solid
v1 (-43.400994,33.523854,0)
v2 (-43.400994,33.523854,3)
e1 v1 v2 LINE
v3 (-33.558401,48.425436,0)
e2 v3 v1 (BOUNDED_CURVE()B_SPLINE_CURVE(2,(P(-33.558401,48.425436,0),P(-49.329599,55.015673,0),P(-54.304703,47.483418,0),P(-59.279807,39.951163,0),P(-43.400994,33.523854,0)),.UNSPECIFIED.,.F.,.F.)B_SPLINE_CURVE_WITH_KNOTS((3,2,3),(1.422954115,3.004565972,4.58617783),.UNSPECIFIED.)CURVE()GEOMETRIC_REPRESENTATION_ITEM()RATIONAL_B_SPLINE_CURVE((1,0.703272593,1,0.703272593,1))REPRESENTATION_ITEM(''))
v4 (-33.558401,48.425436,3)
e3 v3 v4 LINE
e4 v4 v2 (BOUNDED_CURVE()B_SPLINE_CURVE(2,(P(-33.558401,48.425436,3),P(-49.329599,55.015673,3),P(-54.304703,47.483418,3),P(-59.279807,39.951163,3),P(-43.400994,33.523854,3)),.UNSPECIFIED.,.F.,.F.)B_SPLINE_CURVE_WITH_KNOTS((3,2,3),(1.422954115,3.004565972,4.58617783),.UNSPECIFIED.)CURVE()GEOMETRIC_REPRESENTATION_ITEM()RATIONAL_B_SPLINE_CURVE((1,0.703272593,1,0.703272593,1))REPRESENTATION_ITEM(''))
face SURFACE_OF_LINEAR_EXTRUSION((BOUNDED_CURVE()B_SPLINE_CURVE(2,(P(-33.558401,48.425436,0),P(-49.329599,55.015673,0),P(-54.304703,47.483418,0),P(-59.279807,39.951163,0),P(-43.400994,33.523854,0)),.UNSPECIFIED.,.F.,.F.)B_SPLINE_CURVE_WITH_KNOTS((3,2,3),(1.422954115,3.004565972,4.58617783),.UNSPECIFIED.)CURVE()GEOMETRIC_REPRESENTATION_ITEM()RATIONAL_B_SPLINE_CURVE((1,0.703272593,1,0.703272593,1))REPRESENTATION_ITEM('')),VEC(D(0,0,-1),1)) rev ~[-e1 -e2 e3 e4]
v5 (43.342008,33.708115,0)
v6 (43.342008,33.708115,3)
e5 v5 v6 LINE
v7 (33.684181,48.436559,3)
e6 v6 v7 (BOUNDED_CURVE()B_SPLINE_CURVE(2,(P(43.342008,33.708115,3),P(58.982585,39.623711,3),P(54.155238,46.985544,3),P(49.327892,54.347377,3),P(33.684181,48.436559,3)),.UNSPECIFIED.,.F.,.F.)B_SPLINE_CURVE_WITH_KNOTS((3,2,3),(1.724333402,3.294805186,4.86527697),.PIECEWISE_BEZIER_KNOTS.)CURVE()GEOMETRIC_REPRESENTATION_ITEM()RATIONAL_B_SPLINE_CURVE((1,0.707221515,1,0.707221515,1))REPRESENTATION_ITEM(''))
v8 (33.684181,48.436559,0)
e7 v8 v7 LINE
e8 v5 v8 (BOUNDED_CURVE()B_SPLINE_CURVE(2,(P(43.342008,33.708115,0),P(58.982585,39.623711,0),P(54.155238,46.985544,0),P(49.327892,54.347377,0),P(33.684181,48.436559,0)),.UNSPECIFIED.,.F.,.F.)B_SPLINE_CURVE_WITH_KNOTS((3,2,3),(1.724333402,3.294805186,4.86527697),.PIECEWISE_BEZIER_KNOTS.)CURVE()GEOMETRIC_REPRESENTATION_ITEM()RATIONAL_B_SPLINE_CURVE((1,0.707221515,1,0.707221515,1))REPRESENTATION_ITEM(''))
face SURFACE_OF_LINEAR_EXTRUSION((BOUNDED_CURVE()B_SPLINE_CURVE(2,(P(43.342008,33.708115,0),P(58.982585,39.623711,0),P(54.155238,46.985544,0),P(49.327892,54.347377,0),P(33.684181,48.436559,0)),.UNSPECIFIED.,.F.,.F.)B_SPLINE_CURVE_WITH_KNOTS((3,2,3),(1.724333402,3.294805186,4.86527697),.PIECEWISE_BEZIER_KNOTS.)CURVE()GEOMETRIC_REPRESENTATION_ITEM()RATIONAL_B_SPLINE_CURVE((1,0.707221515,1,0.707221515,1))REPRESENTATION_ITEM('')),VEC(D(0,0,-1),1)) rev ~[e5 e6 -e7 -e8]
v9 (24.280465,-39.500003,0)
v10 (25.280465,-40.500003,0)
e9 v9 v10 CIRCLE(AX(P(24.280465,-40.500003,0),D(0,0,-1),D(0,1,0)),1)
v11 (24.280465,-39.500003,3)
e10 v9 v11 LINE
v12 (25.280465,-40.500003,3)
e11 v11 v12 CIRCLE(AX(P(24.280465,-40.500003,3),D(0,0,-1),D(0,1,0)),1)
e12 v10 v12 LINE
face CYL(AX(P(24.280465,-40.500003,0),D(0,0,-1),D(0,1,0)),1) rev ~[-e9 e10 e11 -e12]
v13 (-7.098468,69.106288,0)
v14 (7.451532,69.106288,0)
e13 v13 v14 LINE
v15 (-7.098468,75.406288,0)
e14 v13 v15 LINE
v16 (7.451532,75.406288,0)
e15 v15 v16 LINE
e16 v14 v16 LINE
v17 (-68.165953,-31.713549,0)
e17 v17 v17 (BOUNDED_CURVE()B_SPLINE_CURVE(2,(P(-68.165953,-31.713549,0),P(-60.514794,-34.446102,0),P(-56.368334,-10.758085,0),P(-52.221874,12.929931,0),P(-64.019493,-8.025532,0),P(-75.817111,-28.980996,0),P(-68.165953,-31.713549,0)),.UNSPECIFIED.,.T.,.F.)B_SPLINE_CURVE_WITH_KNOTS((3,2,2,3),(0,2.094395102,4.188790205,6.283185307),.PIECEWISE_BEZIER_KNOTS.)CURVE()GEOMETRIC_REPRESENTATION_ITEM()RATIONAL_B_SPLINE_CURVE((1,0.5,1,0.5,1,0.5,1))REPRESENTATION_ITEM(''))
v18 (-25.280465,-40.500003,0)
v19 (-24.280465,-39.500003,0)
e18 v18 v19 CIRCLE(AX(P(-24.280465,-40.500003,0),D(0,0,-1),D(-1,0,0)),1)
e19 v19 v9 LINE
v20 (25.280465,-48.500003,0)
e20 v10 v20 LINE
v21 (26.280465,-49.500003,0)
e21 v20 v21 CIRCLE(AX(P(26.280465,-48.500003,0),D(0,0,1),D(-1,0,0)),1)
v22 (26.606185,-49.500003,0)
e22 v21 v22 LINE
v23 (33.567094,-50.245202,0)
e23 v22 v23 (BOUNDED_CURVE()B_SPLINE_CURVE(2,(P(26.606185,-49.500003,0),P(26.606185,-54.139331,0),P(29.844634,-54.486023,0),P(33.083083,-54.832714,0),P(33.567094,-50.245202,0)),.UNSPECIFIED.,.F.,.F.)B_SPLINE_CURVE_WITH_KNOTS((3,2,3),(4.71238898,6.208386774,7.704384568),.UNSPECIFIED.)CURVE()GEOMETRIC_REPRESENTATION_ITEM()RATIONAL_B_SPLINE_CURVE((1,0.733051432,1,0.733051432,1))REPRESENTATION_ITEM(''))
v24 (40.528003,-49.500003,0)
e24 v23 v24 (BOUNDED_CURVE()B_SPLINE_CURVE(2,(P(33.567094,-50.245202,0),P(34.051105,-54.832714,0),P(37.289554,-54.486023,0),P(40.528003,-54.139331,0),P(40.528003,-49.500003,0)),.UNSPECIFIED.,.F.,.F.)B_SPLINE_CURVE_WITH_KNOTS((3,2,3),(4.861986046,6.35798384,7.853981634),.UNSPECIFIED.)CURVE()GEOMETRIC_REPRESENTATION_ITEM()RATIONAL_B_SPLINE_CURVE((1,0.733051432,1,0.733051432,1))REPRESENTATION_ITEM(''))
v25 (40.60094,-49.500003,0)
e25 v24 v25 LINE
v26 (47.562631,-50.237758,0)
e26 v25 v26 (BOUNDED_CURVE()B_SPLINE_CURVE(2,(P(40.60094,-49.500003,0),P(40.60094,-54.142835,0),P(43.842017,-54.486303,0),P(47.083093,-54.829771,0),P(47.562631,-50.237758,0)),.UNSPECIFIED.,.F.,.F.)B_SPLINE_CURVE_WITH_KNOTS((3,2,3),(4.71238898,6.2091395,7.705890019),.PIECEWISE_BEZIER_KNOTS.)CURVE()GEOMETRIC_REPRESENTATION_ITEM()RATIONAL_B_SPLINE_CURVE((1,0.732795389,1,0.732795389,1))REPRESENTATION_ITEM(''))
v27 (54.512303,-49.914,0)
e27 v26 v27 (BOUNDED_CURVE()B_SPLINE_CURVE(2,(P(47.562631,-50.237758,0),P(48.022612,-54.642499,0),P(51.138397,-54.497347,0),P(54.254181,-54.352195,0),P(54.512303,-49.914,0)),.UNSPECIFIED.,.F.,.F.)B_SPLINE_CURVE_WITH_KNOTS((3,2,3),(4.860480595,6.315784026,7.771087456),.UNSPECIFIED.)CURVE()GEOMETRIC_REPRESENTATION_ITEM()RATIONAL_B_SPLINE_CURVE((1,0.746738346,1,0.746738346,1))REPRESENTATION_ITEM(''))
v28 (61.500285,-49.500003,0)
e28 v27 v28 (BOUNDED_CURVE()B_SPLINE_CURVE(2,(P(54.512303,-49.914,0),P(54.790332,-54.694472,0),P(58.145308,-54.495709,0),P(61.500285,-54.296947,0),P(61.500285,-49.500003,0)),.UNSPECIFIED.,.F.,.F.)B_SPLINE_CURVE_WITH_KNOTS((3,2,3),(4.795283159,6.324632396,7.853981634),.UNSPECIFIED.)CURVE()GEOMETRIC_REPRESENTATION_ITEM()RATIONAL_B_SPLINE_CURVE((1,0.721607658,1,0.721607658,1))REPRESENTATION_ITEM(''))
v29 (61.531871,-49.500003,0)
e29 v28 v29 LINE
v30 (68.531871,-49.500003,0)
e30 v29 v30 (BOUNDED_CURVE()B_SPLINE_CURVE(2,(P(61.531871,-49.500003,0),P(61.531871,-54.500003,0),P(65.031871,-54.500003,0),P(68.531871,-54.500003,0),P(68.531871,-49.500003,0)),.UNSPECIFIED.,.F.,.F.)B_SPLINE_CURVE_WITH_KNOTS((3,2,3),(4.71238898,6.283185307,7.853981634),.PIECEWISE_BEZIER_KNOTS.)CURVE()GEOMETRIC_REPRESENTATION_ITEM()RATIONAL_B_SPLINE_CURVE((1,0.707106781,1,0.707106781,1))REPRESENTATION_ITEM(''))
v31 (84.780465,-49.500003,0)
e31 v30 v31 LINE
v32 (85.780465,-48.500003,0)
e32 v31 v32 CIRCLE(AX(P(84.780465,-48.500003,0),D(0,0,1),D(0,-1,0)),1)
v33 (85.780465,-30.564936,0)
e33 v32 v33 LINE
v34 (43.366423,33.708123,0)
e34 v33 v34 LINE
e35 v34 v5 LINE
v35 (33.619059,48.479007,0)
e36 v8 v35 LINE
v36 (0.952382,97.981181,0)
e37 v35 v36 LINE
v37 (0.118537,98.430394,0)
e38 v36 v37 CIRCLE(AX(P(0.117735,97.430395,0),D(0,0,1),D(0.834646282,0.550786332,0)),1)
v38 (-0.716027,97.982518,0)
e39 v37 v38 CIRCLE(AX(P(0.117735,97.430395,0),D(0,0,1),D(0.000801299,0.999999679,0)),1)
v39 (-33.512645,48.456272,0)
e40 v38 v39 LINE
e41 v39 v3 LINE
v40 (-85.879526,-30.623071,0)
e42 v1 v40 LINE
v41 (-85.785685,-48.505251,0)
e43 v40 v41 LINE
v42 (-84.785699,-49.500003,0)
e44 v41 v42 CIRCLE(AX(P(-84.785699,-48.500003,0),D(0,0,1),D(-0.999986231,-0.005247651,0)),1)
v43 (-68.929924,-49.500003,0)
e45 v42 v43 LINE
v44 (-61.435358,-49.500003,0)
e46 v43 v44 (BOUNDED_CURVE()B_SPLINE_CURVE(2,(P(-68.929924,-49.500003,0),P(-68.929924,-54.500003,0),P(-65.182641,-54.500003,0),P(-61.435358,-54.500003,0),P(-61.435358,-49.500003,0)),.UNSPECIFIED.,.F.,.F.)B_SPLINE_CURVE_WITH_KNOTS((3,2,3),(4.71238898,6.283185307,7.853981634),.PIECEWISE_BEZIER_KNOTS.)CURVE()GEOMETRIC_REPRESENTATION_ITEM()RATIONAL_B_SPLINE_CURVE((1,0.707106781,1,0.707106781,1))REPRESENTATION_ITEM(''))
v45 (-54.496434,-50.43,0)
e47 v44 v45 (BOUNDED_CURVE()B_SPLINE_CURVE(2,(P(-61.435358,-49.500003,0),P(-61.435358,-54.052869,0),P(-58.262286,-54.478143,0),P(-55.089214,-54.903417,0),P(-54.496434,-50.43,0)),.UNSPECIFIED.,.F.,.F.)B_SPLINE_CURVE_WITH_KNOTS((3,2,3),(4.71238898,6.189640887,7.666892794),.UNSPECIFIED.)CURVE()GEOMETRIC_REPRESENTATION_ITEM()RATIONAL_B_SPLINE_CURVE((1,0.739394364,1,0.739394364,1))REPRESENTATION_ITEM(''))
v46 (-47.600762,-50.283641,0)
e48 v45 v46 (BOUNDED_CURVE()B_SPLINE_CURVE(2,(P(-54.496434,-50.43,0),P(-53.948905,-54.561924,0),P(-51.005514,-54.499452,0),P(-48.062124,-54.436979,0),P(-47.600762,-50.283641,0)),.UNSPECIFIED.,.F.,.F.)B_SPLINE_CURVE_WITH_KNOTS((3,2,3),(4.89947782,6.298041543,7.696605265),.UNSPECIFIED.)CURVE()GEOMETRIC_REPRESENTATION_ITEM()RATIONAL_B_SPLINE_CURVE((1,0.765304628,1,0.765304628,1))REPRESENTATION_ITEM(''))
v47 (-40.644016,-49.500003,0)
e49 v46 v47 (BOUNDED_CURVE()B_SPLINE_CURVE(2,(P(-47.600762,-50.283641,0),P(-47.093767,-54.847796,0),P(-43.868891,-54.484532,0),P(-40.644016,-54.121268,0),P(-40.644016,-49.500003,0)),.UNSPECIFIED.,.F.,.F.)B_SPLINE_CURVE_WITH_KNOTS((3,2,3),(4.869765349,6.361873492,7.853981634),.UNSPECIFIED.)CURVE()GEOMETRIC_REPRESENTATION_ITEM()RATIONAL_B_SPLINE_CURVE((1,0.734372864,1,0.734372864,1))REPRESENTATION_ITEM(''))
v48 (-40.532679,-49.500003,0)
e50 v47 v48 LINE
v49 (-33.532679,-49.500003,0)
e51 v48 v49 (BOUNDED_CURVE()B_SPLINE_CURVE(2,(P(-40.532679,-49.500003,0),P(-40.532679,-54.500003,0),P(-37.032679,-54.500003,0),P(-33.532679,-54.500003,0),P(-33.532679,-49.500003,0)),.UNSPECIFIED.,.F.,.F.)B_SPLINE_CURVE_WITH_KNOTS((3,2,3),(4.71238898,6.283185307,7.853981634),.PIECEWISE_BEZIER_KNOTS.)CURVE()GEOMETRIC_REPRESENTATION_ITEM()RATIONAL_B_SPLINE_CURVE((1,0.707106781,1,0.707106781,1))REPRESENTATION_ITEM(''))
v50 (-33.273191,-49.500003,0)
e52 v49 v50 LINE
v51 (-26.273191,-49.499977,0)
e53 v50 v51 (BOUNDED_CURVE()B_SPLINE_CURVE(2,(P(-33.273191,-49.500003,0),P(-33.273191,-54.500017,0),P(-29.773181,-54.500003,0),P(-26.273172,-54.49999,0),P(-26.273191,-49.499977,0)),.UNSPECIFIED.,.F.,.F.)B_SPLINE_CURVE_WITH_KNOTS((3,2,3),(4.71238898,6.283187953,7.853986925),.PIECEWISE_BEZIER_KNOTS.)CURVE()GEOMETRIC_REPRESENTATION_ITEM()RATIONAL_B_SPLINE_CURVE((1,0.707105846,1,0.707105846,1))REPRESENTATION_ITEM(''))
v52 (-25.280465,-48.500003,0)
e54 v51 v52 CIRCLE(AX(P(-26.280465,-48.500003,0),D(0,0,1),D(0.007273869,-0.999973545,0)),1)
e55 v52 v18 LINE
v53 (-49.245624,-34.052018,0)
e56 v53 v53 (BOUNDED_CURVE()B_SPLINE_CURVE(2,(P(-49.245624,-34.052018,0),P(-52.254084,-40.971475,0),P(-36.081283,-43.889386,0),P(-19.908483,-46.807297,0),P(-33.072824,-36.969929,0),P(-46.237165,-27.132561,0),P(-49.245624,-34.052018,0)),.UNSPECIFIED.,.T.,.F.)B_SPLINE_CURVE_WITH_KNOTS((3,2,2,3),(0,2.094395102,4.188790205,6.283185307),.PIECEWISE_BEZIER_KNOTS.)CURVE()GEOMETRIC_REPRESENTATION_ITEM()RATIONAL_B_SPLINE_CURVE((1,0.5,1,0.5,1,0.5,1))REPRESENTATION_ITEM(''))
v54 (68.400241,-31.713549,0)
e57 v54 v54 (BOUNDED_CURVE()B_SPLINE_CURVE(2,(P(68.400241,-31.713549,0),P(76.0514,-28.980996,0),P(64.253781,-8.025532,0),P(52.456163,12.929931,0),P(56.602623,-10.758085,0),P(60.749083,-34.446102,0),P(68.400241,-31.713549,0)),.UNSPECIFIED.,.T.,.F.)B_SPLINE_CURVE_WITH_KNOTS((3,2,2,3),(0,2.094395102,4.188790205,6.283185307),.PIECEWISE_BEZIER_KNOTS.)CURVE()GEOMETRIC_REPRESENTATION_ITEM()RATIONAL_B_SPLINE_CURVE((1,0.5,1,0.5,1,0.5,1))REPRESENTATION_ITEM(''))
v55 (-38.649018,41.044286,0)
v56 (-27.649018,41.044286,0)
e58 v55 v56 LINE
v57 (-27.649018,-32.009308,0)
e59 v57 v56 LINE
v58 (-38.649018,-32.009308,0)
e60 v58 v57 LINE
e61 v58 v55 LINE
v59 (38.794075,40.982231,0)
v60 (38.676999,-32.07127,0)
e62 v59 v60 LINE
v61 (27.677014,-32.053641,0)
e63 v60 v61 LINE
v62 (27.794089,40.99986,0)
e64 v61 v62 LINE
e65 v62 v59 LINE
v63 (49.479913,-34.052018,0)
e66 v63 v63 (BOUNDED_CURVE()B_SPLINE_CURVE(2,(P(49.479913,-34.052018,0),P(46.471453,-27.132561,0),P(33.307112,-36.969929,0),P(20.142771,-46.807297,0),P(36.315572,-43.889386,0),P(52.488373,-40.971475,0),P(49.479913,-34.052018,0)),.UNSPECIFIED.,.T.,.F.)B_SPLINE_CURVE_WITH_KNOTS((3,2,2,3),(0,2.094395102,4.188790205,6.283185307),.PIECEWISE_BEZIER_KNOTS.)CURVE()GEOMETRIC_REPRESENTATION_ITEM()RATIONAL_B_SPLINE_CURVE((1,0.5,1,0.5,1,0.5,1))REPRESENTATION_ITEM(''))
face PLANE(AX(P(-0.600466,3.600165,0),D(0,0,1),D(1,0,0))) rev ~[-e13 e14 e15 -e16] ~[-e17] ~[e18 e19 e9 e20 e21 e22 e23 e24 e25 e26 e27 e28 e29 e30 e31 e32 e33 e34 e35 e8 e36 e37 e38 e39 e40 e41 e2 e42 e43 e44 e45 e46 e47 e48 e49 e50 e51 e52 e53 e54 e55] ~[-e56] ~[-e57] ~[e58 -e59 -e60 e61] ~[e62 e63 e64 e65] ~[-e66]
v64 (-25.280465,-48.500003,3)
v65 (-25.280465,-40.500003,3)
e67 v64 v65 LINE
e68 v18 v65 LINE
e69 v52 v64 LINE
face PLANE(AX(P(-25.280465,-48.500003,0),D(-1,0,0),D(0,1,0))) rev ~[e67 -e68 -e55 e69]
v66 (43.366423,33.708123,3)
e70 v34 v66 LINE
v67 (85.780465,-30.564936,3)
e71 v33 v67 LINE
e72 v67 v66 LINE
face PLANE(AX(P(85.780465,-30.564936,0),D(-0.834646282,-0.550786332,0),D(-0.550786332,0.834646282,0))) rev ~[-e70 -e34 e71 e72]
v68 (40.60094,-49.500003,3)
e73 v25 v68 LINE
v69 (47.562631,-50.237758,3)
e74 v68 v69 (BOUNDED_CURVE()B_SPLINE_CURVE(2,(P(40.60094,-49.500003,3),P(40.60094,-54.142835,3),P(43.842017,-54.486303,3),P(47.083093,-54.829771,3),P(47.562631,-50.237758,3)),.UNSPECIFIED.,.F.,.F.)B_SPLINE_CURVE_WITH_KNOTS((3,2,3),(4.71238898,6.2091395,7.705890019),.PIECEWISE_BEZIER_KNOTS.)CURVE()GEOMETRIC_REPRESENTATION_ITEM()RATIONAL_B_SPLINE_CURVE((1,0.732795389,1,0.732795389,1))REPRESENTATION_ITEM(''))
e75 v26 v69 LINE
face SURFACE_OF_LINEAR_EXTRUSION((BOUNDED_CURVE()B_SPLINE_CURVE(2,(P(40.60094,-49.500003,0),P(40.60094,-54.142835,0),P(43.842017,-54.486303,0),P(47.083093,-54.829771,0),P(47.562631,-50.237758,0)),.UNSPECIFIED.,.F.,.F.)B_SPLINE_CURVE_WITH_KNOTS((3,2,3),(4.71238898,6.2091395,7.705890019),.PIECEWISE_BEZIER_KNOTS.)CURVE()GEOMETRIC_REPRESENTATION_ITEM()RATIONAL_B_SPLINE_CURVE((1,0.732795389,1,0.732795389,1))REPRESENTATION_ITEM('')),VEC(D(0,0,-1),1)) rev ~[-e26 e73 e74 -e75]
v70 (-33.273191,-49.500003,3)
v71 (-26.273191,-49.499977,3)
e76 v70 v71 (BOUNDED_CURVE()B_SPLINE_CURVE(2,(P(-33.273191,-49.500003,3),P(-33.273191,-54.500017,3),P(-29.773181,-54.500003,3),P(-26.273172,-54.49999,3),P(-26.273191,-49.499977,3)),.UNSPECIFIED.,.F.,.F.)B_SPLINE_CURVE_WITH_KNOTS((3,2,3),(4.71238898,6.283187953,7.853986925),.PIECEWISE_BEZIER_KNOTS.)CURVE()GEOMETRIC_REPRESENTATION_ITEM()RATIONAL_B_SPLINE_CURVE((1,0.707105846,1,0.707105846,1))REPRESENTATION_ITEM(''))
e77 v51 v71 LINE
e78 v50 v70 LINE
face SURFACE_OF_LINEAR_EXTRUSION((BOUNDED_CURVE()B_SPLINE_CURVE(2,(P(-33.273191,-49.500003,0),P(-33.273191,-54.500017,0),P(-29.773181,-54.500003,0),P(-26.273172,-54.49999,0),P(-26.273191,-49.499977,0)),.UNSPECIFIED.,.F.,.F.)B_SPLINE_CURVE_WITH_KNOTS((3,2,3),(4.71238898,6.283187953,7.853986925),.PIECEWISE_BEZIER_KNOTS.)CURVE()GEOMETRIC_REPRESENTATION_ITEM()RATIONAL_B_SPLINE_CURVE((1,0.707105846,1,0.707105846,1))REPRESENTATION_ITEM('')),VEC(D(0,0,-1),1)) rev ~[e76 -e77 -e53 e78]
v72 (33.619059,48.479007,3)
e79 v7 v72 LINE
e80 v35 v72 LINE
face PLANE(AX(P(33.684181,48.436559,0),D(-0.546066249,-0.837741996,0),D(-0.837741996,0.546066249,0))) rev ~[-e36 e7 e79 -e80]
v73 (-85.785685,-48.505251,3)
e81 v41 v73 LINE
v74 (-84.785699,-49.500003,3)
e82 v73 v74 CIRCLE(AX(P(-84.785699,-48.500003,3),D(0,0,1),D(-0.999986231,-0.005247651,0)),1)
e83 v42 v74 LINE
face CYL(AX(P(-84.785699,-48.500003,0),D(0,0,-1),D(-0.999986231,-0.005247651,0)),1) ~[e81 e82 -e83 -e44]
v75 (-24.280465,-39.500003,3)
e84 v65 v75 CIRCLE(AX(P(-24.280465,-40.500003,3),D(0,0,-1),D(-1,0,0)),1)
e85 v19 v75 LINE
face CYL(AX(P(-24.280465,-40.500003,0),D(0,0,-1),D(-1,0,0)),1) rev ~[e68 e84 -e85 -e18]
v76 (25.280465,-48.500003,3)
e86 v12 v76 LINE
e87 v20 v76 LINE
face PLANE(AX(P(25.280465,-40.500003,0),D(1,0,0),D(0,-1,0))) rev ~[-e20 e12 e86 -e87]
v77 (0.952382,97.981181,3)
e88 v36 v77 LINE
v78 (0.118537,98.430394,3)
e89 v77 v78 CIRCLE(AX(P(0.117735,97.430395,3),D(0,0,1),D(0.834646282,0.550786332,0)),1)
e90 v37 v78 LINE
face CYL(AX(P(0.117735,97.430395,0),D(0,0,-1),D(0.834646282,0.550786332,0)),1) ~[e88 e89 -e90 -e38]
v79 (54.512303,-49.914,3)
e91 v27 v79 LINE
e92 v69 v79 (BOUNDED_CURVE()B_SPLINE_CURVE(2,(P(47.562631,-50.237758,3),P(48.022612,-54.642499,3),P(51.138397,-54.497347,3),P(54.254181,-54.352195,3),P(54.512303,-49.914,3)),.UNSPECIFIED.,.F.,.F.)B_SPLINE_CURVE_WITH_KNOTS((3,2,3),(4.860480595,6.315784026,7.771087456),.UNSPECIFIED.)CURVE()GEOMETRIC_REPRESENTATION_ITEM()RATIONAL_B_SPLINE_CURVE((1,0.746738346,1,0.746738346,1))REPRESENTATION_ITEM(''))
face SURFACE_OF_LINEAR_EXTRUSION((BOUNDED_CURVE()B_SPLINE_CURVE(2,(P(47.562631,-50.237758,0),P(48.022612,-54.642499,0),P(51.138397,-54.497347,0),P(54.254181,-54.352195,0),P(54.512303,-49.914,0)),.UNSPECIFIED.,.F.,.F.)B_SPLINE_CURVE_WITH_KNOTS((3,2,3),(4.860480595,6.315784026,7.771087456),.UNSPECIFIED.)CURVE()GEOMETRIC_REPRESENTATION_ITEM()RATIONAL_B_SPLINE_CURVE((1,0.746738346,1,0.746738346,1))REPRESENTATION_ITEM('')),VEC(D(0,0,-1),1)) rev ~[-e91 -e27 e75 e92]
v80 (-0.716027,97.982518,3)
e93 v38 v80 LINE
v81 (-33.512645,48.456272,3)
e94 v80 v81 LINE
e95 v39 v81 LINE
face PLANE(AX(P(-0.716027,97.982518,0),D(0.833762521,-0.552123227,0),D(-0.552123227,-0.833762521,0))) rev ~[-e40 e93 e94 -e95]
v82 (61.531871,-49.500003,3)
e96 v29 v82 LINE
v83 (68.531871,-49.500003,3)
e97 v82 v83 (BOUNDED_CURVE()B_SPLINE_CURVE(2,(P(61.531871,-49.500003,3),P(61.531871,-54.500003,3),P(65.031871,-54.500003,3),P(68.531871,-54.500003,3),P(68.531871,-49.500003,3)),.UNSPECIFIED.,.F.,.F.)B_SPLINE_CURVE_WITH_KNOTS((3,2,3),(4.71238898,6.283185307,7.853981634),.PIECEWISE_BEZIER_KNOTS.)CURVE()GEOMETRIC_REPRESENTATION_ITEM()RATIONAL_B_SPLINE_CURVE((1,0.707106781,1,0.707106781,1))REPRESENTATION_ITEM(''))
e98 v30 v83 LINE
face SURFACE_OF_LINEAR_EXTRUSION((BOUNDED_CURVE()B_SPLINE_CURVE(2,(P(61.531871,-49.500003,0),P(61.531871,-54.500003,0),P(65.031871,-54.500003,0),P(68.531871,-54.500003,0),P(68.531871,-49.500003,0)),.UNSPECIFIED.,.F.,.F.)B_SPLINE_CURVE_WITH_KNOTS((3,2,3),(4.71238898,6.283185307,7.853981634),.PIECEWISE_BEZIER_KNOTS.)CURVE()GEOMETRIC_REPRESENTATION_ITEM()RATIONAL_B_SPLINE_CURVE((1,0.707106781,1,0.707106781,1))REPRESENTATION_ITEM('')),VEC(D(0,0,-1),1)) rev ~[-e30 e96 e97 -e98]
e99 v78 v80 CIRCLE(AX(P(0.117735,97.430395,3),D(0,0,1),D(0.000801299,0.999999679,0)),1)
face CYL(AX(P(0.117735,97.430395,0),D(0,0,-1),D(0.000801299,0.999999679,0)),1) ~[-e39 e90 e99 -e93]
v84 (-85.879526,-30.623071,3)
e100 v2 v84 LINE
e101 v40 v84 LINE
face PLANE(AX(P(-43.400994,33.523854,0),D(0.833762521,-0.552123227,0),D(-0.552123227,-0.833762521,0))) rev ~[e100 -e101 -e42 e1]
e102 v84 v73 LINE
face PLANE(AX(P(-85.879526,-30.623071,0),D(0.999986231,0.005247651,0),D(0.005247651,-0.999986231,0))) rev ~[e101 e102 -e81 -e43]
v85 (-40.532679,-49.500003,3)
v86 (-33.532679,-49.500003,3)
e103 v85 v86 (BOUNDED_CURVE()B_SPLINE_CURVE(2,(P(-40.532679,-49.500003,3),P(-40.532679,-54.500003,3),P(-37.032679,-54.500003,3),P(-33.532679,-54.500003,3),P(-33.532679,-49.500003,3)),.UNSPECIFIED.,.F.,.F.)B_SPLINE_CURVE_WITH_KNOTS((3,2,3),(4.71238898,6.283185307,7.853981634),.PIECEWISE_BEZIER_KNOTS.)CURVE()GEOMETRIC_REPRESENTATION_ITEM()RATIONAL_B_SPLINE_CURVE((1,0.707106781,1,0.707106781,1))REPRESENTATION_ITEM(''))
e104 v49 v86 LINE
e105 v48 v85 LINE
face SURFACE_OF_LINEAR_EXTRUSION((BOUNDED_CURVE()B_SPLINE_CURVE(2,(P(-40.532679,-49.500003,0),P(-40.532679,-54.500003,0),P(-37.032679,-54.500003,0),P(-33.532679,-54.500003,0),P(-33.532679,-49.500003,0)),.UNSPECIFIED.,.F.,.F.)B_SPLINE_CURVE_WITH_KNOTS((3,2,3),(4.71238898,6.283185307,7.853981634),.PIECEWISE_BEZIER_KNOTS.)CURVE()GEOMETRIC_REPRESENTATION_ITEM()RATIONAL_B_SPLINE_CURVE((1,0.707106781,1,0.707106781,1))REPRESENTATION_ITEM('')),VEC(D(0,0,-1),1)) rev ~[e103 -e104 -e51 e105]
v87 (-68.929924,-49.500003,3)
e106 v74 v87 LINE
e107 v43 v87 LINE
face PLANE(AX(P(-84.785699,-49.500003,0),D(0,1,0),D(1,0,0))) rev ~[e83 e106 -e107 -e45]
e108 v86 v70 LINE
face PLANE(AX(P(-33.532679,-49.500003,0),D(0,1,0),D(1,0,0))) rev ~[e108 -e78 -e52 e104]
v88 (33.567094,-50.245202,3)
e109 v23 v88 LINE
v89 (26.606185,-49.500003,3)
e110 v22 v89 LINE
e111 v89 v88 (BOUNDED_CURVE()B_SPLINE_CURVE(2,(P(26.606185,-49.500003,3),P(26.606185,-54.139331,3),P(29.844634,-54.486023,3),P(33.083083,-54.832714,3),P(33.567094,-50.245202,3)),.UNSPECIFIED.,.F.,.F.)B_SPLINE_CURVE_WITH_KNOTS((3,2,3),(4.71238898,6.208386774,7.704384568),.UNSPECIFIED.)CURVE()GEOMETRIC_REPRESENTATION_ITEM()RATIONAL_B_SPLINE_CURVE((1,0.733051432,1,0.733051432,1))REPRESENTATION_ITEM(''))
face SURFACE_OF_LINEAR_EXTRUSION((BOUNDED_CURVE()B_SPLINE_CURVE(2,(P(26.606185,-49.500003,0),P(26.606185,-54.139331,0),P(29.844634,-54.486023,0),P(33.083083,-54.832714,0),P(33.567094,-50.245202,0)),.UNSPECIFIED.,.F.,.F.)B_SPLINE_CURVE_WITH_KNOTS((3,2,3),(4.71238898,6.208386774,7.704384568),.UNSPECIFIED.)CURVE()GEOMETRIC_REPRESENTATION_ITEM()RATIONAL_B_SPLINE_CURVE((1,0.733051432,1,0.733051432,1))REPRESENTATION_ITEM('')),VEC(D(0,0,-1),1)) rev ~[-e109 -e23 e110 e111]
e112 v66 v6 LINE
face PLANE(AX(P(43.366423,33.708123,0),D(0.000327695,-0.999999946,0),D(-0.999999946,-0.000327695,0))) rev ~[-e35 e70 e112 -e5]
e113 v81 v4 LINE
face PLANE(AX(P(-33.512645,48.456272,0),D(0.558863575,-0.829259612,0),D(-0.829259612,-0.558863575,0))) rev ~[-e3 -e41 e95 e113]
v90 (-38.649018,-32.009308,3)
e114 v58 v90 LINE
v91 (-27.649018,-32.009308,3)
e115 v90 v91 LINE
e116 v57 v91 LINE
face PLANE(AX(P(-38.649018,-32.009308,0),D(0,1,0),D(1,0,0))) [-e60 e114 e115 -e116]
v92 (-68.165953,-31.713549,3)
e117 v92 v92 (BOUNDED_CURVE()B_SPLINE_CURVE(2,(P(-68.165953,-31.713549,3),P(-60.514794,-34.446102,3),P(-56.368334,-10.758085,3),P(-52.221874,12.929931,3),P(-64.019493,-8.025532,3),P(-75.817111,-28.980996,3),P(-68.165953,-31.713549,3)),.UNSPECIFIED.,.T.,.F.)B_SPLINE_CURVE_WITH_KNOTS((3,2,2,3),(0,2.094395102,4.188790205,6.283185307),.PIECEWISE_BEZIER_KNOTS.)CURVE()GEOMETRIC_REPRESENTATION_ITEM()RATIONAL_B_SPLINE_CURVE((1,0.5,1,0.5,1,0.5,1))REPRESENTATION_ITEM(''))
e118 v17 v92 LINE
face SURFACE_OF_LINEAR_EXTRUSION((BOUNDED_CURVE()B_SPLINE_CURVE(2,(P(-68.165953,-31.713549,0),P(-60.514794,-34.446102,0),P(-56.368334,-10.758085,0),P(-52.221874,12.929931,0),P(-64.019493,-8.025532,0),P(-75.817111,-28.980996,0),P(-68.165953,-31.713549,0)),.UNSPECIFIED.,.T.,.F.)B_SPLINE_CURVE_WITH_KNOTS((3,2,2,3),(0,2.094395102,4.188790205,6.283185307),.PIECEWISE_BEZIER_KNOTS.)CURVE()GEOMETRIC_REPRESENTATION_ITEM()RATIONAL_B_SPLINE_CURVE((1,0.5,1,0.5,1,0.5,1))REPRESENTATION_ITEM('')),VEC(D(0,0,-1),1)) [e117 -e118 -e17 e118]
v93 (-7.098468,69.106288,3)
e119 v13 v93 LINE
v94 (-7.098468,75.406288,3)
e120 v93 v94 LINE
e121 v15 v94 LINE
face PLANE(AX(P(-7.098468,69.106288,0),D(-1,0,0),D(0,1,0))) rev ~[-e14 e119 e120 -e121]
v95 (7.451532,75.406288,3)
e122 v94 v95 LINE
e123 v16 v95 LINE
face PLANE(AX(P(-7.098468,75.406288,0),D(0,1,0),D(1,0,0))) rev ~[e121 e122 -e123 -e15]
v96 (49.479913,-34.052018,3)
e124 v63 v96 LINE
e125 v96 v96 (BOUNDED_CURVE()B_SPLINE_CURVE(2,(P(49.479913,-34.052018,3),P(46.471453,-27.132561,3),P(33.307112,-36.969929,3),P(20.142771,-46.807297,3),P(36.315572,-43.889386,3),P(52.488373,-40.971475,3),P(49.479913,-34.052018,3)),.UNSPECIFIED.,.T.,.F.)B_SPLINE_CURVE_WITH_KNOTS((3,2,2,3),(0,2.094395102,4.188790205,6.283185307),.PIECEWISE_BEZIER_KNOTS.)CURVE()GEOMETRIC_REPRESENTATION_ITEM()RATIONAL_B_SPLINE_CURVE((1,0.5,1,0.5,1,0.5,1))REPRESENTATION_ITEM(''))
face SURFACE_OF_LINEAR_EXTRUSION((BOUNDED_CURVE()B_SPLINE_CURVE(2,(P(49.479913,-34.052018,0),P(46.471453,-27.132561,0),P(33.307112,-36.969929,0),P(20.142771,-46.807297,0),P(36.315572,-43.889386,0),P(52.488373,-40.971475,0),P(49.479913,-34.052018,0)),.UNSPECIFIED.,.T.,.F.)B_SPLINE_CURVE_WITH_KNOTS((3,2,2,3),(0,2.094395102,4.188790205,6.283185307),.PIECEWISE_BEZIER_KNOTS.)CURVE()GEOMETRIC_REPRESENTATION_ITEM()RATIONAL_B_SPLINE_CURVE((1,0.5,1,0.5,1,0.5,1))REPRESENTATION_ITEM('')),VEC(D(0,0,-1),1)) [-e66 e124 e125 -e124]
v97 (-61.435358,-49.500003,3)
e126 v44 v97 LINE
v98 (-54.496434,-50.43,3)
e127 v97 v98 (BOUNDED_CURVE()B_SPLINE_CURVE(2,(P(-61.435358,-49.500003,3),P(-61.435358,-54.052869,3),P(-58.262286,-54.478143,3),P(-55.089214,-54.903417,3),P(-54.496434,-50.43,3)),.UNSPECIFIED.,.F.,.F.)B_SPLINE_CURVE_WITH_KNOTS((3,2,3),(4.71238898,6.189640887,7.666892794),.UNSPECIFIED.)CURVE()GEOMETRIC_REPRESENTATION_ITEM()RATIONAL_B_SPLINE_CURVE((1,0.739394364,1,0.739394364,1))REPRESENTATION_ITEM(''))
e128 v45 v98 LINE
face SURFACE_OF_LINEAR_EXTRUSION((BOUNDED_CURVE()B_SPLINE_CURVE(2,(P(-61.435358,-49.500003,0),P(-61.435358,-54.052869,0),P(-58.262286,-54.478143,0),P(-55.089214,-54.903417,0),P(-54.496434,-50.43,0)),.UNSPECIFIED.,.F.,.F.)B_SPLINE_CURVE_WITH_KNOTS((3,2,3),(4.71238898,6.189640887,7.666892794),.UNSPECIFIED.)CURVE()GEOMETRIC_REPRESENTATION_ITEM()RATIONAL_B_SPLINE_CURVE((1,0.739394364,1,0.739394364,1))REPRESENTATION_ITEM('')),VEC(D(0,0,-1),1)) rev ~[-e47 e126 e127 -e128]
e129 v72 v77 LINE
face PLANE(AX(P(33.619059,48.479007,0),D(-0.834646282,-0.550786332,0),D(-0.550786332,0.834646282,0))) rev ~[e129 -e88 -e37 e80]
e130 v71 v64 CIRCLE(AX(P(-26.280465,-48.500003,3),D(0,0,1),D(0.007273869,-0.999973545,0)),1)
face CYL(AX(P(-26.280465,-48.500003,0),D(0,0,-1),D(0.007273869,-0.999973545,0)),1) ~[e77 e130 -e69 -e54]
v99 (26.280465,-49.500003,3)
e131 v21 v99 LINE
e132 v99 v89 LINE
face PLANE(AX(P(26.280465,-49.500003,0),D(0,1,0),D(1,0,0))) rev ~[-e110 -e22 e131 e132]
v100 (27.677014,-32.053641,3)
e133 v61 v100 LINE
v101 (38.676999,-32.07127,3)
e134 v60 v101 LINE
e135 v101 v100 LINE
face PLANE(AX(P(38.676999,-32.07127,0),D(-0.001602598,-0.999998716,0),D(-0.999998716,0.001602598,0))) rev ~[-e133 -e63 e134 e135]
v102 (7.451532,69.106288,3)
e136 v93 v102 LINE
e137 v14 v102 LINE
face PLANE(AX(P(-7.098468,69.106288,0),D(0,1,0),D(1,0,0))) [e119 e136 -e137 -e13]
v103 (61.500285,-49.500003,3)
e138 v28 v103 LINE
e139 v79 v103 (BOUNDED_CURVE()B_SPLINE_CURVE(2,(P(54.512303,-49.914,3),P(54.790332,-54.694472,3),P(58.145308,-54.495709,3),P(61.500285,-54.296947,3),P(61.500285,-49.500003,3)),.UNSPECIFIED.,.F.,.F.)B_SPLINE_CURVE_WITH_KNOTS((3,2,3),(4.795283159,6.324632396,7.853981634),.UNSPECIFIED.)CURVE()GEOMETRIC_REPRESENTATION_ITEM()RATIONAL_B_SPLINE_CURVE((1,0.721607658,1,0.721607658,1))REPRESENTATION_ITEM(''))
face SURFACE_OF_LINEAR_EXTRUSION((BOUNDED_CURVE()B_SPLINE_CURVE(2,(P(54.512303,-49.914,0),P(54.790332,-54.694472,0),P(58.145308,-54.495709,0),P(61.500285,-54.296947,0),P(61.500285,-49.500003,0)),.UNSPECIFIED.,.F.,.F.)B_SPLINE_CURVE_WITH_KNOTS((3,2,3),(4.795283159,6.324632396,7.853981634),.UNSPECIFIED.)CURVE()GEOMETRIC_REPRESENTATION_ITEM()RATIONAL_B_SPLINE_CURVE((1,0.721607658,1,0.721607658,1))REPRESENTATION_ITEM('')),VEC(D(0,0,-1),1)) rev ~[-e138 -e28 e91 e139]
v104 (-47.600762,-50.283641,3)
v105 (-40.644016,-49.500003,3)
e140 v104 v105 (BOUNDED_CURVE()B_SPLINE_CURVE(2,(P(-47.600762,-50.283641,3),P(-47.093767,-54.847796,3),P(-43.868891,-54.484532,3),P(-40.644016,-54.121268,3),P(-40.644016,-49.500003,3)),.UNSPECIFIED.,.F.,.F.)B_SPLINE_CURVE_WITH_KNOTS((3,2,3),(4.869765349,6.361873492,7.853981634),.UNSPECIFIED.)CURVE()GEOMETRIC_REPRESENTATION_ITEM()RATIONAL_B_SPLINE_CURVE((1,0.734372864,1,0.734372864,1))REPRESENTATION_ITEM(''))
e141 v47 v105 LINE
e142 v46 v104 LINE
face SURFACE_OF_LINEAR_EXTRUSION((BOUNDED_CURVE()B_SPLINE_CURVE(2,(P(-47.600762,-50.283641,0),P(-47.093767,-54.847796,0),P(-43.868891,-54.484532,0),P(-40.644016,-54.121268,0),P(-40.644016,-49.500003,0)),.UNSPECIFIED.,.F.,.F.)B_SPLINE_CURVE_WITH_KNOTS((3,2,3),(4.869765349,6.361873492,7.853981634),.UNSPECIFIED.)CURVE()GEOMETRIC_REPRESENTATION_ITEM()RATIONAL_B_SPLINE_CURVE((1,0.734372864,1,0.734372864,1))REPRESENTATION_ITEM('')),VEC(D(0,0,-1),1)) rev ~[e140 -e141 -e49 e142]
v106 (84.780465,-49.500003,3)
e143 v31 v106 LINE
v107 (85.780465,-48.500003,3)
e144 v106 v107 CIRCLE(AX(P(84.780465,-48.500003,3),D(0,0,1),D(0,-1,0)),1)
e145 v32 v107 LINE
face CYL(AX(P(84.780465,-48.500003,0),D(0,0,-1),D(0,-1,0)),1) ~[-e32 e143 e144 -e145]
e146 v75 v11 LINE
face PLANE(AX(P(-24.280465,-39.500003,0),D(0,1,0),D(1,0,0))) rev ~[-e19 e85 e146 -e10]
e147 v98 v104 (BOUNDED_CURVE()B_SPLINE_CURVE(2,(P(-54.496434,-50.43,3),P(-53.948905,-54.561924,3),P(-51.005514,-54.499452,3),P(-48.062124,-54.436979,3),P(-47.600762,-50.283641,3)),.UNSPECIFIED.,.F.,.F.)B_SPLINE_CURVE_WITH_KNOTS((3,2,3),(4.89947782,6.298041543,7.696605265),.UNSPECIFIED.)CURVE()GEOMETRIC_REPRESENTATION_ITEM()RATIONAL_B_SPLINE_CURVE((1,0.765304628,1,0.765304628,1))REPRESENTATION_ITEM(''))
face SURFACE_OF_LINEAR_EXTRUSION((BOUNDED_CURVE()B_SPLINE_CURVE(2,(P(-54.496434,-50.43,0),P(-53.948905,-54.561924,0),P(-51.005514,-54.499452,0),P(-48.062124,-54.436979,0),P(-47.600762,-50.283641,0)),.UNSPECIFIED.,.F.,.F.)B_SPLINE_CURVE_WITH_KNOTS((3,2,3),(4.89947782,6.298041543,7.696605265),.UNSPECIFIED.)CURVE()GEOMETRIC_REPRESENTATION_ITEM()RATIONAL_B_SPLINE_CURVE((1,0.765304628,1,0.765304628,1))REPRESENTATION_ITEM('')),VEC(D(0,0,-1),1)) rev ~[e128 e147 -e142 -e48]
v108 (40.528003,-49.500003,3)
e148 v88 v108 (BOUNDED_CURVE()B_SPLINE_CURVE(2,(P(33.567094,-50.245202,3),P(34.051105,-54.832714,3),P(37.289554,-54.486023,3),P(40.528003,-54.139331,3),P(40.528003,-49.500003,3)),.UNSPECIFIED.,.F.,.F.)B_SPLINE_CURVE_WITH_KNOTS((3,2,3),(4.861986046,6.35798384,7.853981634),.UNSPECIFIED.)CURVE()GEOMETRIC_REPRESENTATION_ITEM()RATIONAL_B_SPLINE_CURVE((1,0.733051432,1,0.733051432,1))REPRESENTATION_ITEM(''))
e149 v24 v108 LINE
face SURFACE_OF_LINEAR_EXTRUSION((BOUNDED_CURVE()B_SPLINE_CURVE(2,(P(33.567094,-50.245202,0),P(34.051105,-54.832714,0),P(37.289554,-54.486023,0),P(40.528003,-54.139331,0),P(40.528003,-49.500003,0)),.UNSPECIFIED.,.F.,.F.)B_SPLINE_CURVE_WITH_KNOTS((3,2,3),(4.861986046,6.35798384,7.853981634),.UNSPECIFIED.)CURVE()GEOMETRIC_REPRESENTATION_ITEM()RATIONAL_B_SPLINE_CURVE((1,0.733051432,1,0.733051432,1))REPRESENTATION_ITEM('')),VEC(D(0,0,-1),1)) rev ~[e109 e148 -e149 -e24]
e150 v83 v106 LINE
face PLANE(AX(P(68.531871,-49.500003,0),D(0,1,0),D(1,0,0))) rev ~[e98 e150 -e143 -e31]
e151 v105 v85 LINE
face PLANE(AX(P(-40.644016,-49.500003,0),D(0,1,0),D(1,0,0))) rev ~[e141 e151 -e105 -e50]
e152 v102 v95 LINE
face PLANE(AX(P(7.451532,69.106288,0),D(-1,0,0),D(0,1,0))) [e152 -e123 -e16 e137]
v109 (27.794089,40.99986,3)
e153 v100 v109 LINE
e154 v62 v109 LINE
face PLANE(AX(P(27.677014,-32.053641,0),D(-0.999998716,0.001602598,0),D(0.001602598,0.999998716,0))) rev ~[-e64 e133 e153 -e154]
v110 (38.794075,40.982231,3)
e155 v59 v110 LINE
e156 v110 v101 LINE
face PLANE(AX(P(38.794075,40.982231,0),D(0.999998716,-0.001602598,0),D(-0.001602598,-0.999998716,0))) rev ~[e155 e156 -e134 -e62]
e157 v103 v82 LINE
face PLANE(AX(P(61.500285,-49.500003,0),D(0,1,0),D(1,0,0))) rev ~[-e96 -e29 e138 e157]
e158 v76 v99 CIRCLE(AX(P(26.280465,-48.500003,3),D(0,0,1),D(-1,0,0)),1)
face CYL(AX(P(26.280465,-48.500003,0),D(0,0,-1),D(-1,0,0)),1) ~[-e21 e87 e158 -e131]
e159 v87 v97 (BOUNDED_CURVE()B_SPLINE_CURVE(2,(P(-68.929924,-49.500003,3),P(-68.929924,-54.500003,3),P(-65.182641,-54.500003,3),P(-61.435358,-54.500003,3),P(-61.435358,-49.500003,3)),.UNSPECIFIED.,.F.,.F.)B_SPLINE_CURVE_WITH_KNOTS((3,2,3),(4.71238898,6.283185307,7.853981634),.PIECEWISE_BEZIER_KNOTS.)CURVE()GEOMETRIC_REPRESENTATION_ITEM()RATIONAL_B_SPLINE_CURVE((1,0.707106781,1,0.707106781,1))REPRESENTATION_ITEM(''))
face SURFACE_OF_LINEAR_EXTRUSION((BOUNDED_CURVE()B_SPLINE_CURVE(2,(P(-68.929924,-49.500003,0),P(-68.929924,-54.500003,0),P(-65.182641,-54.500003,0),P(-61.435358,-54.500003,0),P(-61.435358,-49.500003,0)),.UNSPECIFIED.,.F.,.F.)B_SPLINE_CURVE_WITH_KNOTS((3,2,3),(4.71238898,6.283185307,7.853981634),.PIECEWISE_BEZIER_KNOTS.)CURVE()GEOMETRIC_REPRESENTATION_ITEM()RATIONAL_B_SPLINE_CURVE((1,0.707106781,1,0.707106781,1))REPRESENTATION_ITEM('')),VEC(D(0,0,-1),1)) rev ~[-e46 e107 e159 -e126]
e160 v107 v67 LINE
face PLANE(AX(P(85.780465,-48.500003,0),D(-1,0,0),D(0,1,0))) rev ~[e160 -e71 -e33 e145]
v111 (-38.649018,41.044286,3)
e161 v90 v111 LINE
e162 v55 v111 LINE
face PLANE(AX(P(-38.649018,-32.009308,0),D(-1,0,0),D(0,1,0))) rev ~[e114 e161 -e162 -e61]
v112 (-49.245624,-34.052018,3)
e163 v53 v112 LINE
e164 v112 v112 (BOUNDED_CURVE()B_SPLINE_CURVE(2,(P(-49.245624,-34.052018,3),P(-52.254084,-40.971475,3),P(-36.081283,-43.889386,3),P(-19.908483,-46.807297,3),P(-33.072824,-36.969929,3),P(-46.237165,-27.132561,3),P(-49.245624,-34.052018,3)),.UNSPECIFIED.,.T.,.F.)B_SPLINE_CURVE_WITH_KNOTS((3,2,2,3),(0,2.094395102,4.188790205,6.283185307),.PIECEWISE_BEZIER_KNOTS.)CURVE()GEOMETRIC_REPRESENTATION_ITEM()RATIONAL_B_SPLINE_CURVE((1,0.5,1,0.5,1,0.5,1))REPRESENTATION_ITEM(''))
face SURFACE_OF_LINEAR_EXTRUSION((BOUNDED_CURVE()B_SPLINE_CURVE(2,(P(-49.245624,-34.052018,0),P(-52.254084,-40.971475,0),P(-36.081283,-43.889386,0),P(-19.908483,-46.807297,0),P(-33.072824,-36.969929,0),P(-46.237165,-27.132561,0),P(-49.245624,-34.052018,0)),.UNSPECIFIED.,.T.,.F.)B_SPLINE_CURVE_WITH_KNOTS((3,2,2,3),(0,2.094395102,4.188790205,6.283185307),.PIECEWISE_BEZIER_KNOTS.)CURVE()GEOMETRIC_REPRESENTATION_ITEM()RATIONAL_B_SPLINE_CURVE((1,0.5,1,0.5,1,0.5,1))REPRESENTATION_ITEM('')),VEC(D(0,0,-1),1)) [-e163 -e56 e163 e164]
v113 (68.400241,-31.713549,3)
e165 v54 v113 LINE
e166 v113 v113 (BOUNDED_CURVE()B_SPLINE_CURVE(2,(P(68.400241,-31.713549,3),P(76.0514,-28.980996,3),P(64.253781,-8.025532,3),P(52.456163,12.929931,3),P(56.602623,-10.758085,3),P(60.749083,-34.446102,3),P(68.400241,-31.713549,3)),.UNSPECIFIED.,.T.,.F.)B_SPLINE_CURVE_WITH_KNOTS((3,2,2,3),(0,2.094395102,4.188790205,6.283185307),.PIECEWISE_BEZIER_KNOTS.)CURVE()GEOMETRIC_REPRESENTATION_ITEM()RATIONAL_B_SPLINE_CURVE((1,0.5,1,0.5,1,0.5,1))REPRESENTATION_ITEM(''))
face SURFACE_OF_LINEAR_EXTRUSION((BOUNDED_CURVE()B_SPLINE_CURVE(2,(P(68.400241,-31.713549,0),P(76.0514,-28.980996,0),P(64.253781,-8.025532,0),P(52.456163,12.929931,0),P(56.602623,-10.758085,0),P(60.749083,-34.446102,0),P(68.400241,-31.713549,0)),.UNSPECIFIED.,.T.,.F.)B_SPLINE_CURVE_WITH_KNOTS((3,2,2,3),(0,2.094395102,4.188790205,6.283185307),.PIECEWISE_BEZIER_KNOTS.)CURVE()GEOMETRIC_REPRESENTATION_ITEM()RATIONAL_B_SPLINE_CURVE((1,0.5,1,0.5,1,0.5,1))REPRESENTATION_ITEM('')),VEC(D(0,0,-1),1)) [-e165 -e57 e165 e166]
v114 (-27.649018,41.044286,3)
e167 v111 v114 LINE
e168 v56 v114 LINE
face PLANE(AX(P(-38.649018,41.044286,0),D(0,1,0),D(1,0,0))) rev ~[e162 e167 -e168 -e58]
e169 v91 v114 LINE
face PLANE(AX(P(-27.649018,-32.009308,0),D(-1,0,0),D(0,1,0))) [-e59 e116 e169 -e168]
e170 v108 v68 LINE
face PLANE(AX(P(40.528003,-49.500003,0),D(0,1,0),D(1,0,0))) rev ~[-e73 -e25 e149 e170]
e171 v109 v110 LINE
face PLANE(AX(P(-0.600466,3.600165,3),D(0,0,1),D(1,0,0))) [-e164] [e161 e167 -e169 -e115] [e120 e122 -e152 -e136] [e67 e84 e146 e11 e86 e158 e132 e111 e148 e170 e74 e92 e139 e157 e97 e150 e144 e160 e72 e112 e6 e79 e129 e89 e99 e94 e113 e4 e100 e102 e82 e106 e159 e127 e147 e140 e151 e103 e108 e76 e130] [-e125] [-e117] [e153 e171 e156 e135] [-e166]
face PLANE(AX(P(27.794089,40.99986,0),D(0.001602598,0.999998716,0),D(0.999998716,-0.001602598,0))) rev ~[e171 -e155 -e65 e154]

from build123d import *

# Parameters (mm, degrees)
F0_W     = 11
F0_H     = 73.0535946786
F0_W_2   = 14.55
F0_H_2   = 6.3
F1_DEPTH = 3


with BuildPart() as f1:
    # F0 (on Top) → F1 (new body)
    with BuildSketch(Plane.XY):
        with BuildLine():
            ThreePointArc((-85.7856848061, -48.505251108), (-85.4909475911, -49.2089631354), (-84.7856985751, -49.5000034571))
            Line((-84.7856985751, -49.5000034571), (-68.9299244289, -49.5000034571))
            Line((-68.9299244289, -49.5000034571), (-61.4353581368, -49.5000034571))
            Line((-61.4353581368, -49.5000034571), (-54.4939316693, -49.5000034571))
            Line((-54.4939316693, -49.5000034571), (-54.4964335859, -50.4300000917))
            add(Edge.make_bspline(
                [(-54.4964335859, -50.4300000917), (-53.9489045305, -54.5619244379), (-51.0055141238, -54.4994516979), (-48.062123717, -54.4369789579), (-47.6007624642, -50.2836411622)],
                knots=[4.89947782, 4.89947782, 4.89947782, 6.2980415426, 6.2980415426, 7.6966052651, 7.6966052651, 7.6966052651], degree=2, weights=[1, 0.7653046277, 1, 0.7653046277, 1]))
            Line((-47.6007624642, -50.2836411622), (-47.6007624642, -49.5000034571))
            Line((-47.6007624642, -49.5000034571), (-40.6440158935, -49.5000034571))
            Line((-40.6440158935, -49.5000034571), (-40.5326788576, -49.5000034571))
            Line((-40.5326788576, -49.5000034571), (-33.5326788576, -49.5000034571))
            Line((-33.5326788576, -49.5000034571), (-33.2731907519, -49.5000034571))
            Line((-33.2731907519, -49.5000034571), (-26.2804646211, -49.5000034571))
            ThreePointArc((-26.2804646211, -49.5000034571), (-26.2768276625, -49.4999968433), (-26.2731907519, -49.4999770021))
            ThreePointArc((-26.2731907519, -49.4999770021), (-25.5707907984, -49.2045338435), (-25.2804646211, -48.5000034571))
            Line((-25.2804646211, -48.5000034571), (-25.2804646211, -40.5000034571))
            ThreePointArc((-25.2804646211, -40.5000034571), (-24.9875714023, -39.7928966759), (-24.2804646211, -39.5000034571))
            Line((-24.2804646211, -39.5000034571), (0.0080129938, -39.5000034571))
            Line((0.0080129938, -39.5000034571), (24.2804646211, -39.5000034571))
            ThreePointArc((24.2804646211, -39.5000034571), (24.9875714023, -39.7928966759), (25.2804646211, -40.5000034571))
            Line((25.2804646211, -40.5000034571), (25.2804646211, -48.5000034571))
            ThreePointArc((25.2804646211, -48.5000034571), (25.5733578399, -49.2071102383), (26.2804646211, -49.5000034571))
            Line((26.2804646211, -49.5000034571), (26.6061850041, -49.5000034571))
            Line((26.6061850041, -49.5000034571), (33.6094798, -49.5000034571))
            Line((33.6094798, -49.5000034571), (40.528003484, -49.5000034571))
            Line((40.528003484, -49.5000034571), (40.6009402275, -49.5000034571))
            Line((40.6009402275, -49.5000034571), (47.6053172203, -49.5000034571))
            Line((47.6053172203, -49.5000034571), (54.5243214667, -49.5000034571))
            Line((54.5243214667, -49.5000034571), (61.5002851784, -49.5000034571))
            Line((61.5002851784, -49.5000034571), (61.5318711996, -49.5000034571))
            Line((61.5318711996, -49.5000034571), (68.5318711996, -49.5000034571))
            Line((68.5318711996, -49.5000034571), (84.7804646211, -49.5000034571))
            ThreePointArc((84.7804646211, -49.5000034571), (85.4875714023, -49.2071102383), (85.7804646211, -48.5000034571))
            Line((85.7804646211, -48.5000034571), (85.7804646211, -30.5649356997))
            Line((85.7804646211, -30.5649356997), (43.3664230703, 33.708122717))
            Line((43.3664230703, 33.708122717), (43.3420082833, 33.7081147164))
            add(Edge.make_bspline(
                [(43.3420082833, 33.7081147164), (58.9825854354, 39.6237113716), (54.1552384869, 46.9855440531), (49.3278915384, 54.3473767347), (33.6841810231, 48.4365585419)],
                knots=[1.7243334024, 1.7243334024, 1.7243334024, 3.2948051862, 3.2948051862, 4.86527697, 4.86527697, 4.86527697], degree=2, weights=[1, 0.7072215152, 1, 0.7072215152, 1]))
            Line((33.6841810231, 48.4365585419), (33.619058901, 48.4790071635))
            Line((33.619058901, 48.4790071635), (0.9523815194, 97.9811811337))
            ThreePointArc((0.9523815194, 97.9811811337), (0.5920150312, 98.3107689704), (0.1185365363, 98.4303944806))
            ThreePointArc((0.1185365363, 98.4303944806), (-0.3551330622, 98.3115279195), (-0.7160272843, 97.9825180286))
            Line((-0.7160272843, 97.9825180286), (-33.5126452304, 48.4562718246))
            Line((-33.5126452304, 48.4562718246), (-33.558400511, 48.4254359328))
            add(Edge.make_bspline(
                [(-33.558400511, 48.4254359328), (-49.3295986778, 55.0156726288), (-54.304702772, 47.4834180097), (-59.2798068663, 39.9511633907), (-43.4009940183, 33.5238541763)],
                knots=[1.422954115, 1.422954115, 1.422954115, 3.0045659723, 3.0045659723, 4.5861778295, 4.5861778295, 4.5861778295], degree=2, weights=[1, 0.7032725931, 1, 0.7032725931, 1]))
            Line((-43.4009940183, 33.5238541763), (-85.8795255346, -30.6230713915))
            Line((-85.8795255346, -30.6230713915), (-85.7856848061, -48.505251108))
        make_face()
        with BuildLine():
            add(Edge.make_bspline(
                [(-68.1659526923, -31.7135490477), (-60.5147940439, -34.4461020139), (-56.3683340858, -10.7580853655), (-52.2218741276, 12.929931283), (-64.0194927341, -8.0255323992), (-75.8171113406, -28.9809960815), (-68.1659526923, -31.7135490477)],
                knots=[0, 0, 0, 2.0943951024, 2.0943951024, 4.1887902048, 4.1887902048, 6.2831853072, 6.2831853072, 6.2831853072], degree=2, weights=[1, 0.5, 1, 0.5, 1, 0.5, 1]))
        make_face(mode=Mode.SUBTRACT)
        with BuildLine():
            add(Edge.make_bspline(
                [(-49.2456242242, -34.0520180762), (-52.2540837889, -40.9714753387), (-36.0812831751, -43.8893859564), (-19.9084825613, -46.8072965741), (-33.0728236104, -36.9699286939), (-46.2371646594, -27.1325608136), (-49.2456242242, -34.0520180762)],
                knots=[0, 0, 0, 2.0943951024, 2.0943951024, 4.1887902048, 4.1887902048, 6.2831853072, 6.2831853072, 6.2831853072], degree=2, weights=[1, 0.5, 1, 0.5, 1, 0.5, 1]))
        make_face(mode=Mode.SUBTRACT)
        with Locations((-33.1490184932, 4.5174889822)):
            Rectangle(F0_W, F0_H, mode=Mode.SUBTRACT)
        with BuildLine():
            add(Edge.make_bspline(
                [(49.4799129665, -34.0520180762), (46.4714534017, -27.1325608136), (33.3071123527, -36.9699286939), (20.1427713037, -46.8072965741), (36.3155719175, -43.8893859564), (52.4883725313, -40.9714753387), (49.4799129665, -34.0520180762)],
                knots=[0, 0, 0, 2.0943951024, 2.0943951024, 4.1887902048, 4.1887902048, 6.2831853072, 6.2831853072, 6.2831853072], degree=2, weights=[1, 0.5, 1, 0.5, 1, 0.5, 1]))
        make_face(mode=Mode.SUBTRACT)
        with BuildLine():
            add(Edge.make_bspline(
                [(68.4002414346, -31.7135490477), (76.0514000829, -28.9809960815), (64.2537814764, -8.0255323992), (52.4561628699, 12.929931283), (56.6026228281, -10.7580853655), (60.7490827862, -34.4461020139), (68.4002414346, -31.7135490477)],
                knots=[0, 0, 0, 2.0943951024, 2.0943951024, 4.1887902048, 4.1887902048, 6.2831853072, 6.2831853072, 6.2831853072], degree=2, weights=[1, 0.5, 1, 0.5, 1, 0.5, 1]))
        make_face(mode=Mode.SUBTRACT)
        Polygon((27.7940890609, 40.9998597937), (38.7940749351, 40.9822312187), (38.6769994099, -32.0712696474), (27.6770135357, -32.0536410724), align=None, mode=Mode.SUBTRACT)
        with Locations((0.1765319429, 72.2562882543)):
            Rectangle(F0_W_2, F0_H_2, mode=Mode.SUBTRACT)
        with BuildLine():
            Line((-61.4353581368, -49.5000034571), (-68.9299244289, -49.5000034571))
            add(Edge.make_bspline(
                [(-68.9299244289, -49.5000034571), (-68.9299244289, -54.5000034571), (-65.1826412829, -54.5000034571), (-61.4353581368, -54.5000034571), (-61.4353581368, -49.5000034571)],
                knots=[4.7123889804, 4.7123889804, 4.7123889804, 6.2831853072, 6.2831853072, 7.853981634, 7.853981634, 7.853981634], degree=2, weights=[1, 0.7071067812, 1, 0.7071067812, 1]))
        make_face()
        with BuildLine():
            Line((-54.4939316693, -49.5000034571), (-61.4353581368, -49.5000034571))
            add(Edge.make_bspline(
                [(-61.4353581368, -49.5000034571), (-61.4353581368, -54.0528687331), (-58.2622863183, -54.4781430088), (-55.0892144997, -54.9034172845), (-54.4964335859, -50.4300000917)],
                knots=[4.7123889804, 4.7123889804, 4.7123889804, 6.1896408874, 6.1896408874, 7.6668927943, 7.6668927943, 7.6668927943], degree=2, weights=[1, 0.7393943643, 1, 0.7393943643, 1]))
            Line((-54.4964335859, -50.4300000917), (-54.4939316693, -49.5000034571))
        make_face()
        with BuildLine():
            Line((-33.5326788576, -49.5000034571), (-40.5326788576, -49.5000034571))
            add(Edge.make_bspline(
                [(-40.5326788576, -49.5000034571), (-40.5326788576, -54.5000034571), (-37.0326788576, -54.5000034571), (-33.5326788576, -54.5000034571), (-33.5326788576, -49.5000034571)],
                knots=[4.7123889804, 4.7123889804, 4.7123889804, 6.2831853072, 6.2831853072, 7.853981634, 7.853981634, 7.853981634], degree=2, weights=[1, 0.7071067812, 1, 0.7071067812, 1]))
        make_face()
        with BuildLine():
            Line((-47.6007624642, -49.5000034571), (-47.6007624642, -50.2836411622))
            add(Edge.make_bspline(
                [(-47.6007624642, -50.2836411622), (-47.0937668544, -54.8477956417), (-43.8688913739, -54.4845318667), (-40.6440158935, -54.1212680917), (-40.6440158935, -49.5000034571)],
                knots=[4.8697653493, 4.8697653493, 4.8697653493, 6.3618734916, 6.3618734916, 7.853981634, 7.853981634, 7.853981634], degree=2, weights=[1, 0.7343728636, 1, 0.7343728636, 1]))
            Line((-40.6440158935, -49.5000034571), (-47.6007624642, -49.5000034571))
        make_face()
        with BuildLine():
            Line((-26.2804646211, -49.5000034571), (-33.2731907519, -49.5000034571))
            add(Edge.make_bspline(
                [(-33.2731907519, -49.5000034571), (-33.2731907519, -54.5000166846), (-29.7731814926, -54.5000034571), (-26.2731722334, -54.4999902295), (-26.2731907519, -49.4999770021)],
                knots=[4.7123889804, 4.7123889804, 4.7123889804, 6.2831879527, 6.2831879527, 7.853986925, 7.853986925, 7.853986925], degree=2, weights=[1, 0.7071058459, 1, 0.7071058459, 1]))
            ThreePointArc((-26.2731907519, -49.4999770021), (-26.2768276625, -49.4999968433), (-26.2804646211, -49.5000034571))
        make_face()
        with BuildLine():
            Line((33.6094798, -49.5000034571), (26.6061850041, -49.5000034571))
            add(Edge.make_bspline(
                [(26.6061850041, -49.5000034571), (26.6061850041, -54.1393314863), (29.8446341867, -54.4860229258), (33.0830833693, -54.8327143653), (33.5670942441, -50.24520201)],
                knots=[4.7123889804, 4.7123889804, 4.7123889804, 6.2083867743, 6.2083867743, 7.7043845683, 7.7043845683, 7.7043845683], degree=2, weights=[1, 0.7330514324, 1, 0.7330514324, 1]))
            Line((33.5670942441, -50.24520201), (33.6094798, -49.5000034571))
        make_face()
        with BuildLine():
            Line((54.5123033226, -49.9139998416), (54.5243214667, -49.5000034571))
            Line((54.5243214667, -49.5000034571), (47.6053172203, -49.5000034571))
            Line((47.6053172203, -49.5000034571), (47.5626308471, -50.2377579849))
            add(Edge.make_bspline(
                [(47.5626308471, -50.2377579849), (48.0226120838, -54.6424992613), (51.1383967745, -54.4973470012), (54.2541814653, -54.3521947411), (54.5123033226, -49.9139998416)],
                knots=[4.8604805954, 4.8604805954, 4.8604805954, 6.3157840256, 6.3157840256, 7.7710874559, 7.7710874559, 7.7710874559], degree=2, weights=[1, 0.7467383462, 1, 0.7467383462, 1]))
        make_face()
        with BuildLine():
            Line((47.5626308471, -50.2377579849), (47.6053172203, -49.5000034571))
            Line((47.6053172203, -49.5000034571), (40.6009402275, -49.5000034571))
            add(Edge.make_bspline(
                [(40.6009402275, -49.5000034571), (40.6009402275, -54.1428346415), (43.8420166563, -54.4863027646), (47.0830930851, -54.8297708877), (47.5626308471, -50.2377579849)],
                knots=[4.7123889804, 4.7123889804, 4.7123889804, 6.2091394997, 6.2091394997, 7.705890019, 7.705890019, 7.705890019], degree=2, weights=[1, 0.7327953886, 1, 0.7327953886, 1]))
        make_face()
        with BuildLine():
            Line((40.528003484, -49.5000034571), (33.6094798, -49.5000034571))
            Line((33.6094798, -49.5000034571), (33.5670942441, -50.24520201))
            add(Edge.make_bspline(
                [(33.5670942441, -50.24520201), (34.0511051188, -54.8327143653), (37.2895543014, -54.4860229258), (40.528003484, -54.1393314863), (40.528003484, -49.5000034571)],
                knots=[4.8619860461, 4.8619860461, 4.8619860461, 6.35798384, 6.35798384, 7.853981634, 7.853981634, 7.853981634], degree=2, weights=[1, 0.7330514324, 1, 0.7330514324, 1]))
        make_face()
        with BuildLine():
            add(Edge.make_bspline(
                [(54.5123033226, -49.9139998416), (54.7903317418, -54.6944718456), (58.1453084601, -54.4957094189), (61.5002851784, -54.2969469922), (61.5002851784, -49.5000034571)],
                knots=[4.7952831585, 4.7952831585, 4.7952831585, 6.3246323962, 6.3246323962, 7.853981634, 7.853981634, 7.853981634], degree=2, weights=[1, 0.7216076577, 1, 0.7216076577, 1]))
            Line((61.5002851784, -49.5000034571), (54.5243214667, -49.5000034571))
            Line((54.5243214667, -49.5000034571), (54.5123033226, -49.9139998416))
        make_face()
        with BuildLine():
            add(Edge.make_bspline(
                [(61.5318711996, -49.5000034571), (61.5318711996, -54.5000034571), (65.0318711996, -54.5000034571), (68.5318711996, -54.5000034571), (68.5318711996, -49.5000034571)],
                knots=[4.7123889804, 4.7123889804, 4.7123889804, 6.2831853072, 6.2831853072, 7.853981634, 7.853981634, 7.853981634], degree=2, weights=[1, 0.7071067812, 1, 0.7071067812, 1]))
            Line((68.5318711996, -49.5000034571), (61.5318711996, -49.5000034571))
        make_face()
    extrude(amount=F1_DEPTH)


solid = f1.part
